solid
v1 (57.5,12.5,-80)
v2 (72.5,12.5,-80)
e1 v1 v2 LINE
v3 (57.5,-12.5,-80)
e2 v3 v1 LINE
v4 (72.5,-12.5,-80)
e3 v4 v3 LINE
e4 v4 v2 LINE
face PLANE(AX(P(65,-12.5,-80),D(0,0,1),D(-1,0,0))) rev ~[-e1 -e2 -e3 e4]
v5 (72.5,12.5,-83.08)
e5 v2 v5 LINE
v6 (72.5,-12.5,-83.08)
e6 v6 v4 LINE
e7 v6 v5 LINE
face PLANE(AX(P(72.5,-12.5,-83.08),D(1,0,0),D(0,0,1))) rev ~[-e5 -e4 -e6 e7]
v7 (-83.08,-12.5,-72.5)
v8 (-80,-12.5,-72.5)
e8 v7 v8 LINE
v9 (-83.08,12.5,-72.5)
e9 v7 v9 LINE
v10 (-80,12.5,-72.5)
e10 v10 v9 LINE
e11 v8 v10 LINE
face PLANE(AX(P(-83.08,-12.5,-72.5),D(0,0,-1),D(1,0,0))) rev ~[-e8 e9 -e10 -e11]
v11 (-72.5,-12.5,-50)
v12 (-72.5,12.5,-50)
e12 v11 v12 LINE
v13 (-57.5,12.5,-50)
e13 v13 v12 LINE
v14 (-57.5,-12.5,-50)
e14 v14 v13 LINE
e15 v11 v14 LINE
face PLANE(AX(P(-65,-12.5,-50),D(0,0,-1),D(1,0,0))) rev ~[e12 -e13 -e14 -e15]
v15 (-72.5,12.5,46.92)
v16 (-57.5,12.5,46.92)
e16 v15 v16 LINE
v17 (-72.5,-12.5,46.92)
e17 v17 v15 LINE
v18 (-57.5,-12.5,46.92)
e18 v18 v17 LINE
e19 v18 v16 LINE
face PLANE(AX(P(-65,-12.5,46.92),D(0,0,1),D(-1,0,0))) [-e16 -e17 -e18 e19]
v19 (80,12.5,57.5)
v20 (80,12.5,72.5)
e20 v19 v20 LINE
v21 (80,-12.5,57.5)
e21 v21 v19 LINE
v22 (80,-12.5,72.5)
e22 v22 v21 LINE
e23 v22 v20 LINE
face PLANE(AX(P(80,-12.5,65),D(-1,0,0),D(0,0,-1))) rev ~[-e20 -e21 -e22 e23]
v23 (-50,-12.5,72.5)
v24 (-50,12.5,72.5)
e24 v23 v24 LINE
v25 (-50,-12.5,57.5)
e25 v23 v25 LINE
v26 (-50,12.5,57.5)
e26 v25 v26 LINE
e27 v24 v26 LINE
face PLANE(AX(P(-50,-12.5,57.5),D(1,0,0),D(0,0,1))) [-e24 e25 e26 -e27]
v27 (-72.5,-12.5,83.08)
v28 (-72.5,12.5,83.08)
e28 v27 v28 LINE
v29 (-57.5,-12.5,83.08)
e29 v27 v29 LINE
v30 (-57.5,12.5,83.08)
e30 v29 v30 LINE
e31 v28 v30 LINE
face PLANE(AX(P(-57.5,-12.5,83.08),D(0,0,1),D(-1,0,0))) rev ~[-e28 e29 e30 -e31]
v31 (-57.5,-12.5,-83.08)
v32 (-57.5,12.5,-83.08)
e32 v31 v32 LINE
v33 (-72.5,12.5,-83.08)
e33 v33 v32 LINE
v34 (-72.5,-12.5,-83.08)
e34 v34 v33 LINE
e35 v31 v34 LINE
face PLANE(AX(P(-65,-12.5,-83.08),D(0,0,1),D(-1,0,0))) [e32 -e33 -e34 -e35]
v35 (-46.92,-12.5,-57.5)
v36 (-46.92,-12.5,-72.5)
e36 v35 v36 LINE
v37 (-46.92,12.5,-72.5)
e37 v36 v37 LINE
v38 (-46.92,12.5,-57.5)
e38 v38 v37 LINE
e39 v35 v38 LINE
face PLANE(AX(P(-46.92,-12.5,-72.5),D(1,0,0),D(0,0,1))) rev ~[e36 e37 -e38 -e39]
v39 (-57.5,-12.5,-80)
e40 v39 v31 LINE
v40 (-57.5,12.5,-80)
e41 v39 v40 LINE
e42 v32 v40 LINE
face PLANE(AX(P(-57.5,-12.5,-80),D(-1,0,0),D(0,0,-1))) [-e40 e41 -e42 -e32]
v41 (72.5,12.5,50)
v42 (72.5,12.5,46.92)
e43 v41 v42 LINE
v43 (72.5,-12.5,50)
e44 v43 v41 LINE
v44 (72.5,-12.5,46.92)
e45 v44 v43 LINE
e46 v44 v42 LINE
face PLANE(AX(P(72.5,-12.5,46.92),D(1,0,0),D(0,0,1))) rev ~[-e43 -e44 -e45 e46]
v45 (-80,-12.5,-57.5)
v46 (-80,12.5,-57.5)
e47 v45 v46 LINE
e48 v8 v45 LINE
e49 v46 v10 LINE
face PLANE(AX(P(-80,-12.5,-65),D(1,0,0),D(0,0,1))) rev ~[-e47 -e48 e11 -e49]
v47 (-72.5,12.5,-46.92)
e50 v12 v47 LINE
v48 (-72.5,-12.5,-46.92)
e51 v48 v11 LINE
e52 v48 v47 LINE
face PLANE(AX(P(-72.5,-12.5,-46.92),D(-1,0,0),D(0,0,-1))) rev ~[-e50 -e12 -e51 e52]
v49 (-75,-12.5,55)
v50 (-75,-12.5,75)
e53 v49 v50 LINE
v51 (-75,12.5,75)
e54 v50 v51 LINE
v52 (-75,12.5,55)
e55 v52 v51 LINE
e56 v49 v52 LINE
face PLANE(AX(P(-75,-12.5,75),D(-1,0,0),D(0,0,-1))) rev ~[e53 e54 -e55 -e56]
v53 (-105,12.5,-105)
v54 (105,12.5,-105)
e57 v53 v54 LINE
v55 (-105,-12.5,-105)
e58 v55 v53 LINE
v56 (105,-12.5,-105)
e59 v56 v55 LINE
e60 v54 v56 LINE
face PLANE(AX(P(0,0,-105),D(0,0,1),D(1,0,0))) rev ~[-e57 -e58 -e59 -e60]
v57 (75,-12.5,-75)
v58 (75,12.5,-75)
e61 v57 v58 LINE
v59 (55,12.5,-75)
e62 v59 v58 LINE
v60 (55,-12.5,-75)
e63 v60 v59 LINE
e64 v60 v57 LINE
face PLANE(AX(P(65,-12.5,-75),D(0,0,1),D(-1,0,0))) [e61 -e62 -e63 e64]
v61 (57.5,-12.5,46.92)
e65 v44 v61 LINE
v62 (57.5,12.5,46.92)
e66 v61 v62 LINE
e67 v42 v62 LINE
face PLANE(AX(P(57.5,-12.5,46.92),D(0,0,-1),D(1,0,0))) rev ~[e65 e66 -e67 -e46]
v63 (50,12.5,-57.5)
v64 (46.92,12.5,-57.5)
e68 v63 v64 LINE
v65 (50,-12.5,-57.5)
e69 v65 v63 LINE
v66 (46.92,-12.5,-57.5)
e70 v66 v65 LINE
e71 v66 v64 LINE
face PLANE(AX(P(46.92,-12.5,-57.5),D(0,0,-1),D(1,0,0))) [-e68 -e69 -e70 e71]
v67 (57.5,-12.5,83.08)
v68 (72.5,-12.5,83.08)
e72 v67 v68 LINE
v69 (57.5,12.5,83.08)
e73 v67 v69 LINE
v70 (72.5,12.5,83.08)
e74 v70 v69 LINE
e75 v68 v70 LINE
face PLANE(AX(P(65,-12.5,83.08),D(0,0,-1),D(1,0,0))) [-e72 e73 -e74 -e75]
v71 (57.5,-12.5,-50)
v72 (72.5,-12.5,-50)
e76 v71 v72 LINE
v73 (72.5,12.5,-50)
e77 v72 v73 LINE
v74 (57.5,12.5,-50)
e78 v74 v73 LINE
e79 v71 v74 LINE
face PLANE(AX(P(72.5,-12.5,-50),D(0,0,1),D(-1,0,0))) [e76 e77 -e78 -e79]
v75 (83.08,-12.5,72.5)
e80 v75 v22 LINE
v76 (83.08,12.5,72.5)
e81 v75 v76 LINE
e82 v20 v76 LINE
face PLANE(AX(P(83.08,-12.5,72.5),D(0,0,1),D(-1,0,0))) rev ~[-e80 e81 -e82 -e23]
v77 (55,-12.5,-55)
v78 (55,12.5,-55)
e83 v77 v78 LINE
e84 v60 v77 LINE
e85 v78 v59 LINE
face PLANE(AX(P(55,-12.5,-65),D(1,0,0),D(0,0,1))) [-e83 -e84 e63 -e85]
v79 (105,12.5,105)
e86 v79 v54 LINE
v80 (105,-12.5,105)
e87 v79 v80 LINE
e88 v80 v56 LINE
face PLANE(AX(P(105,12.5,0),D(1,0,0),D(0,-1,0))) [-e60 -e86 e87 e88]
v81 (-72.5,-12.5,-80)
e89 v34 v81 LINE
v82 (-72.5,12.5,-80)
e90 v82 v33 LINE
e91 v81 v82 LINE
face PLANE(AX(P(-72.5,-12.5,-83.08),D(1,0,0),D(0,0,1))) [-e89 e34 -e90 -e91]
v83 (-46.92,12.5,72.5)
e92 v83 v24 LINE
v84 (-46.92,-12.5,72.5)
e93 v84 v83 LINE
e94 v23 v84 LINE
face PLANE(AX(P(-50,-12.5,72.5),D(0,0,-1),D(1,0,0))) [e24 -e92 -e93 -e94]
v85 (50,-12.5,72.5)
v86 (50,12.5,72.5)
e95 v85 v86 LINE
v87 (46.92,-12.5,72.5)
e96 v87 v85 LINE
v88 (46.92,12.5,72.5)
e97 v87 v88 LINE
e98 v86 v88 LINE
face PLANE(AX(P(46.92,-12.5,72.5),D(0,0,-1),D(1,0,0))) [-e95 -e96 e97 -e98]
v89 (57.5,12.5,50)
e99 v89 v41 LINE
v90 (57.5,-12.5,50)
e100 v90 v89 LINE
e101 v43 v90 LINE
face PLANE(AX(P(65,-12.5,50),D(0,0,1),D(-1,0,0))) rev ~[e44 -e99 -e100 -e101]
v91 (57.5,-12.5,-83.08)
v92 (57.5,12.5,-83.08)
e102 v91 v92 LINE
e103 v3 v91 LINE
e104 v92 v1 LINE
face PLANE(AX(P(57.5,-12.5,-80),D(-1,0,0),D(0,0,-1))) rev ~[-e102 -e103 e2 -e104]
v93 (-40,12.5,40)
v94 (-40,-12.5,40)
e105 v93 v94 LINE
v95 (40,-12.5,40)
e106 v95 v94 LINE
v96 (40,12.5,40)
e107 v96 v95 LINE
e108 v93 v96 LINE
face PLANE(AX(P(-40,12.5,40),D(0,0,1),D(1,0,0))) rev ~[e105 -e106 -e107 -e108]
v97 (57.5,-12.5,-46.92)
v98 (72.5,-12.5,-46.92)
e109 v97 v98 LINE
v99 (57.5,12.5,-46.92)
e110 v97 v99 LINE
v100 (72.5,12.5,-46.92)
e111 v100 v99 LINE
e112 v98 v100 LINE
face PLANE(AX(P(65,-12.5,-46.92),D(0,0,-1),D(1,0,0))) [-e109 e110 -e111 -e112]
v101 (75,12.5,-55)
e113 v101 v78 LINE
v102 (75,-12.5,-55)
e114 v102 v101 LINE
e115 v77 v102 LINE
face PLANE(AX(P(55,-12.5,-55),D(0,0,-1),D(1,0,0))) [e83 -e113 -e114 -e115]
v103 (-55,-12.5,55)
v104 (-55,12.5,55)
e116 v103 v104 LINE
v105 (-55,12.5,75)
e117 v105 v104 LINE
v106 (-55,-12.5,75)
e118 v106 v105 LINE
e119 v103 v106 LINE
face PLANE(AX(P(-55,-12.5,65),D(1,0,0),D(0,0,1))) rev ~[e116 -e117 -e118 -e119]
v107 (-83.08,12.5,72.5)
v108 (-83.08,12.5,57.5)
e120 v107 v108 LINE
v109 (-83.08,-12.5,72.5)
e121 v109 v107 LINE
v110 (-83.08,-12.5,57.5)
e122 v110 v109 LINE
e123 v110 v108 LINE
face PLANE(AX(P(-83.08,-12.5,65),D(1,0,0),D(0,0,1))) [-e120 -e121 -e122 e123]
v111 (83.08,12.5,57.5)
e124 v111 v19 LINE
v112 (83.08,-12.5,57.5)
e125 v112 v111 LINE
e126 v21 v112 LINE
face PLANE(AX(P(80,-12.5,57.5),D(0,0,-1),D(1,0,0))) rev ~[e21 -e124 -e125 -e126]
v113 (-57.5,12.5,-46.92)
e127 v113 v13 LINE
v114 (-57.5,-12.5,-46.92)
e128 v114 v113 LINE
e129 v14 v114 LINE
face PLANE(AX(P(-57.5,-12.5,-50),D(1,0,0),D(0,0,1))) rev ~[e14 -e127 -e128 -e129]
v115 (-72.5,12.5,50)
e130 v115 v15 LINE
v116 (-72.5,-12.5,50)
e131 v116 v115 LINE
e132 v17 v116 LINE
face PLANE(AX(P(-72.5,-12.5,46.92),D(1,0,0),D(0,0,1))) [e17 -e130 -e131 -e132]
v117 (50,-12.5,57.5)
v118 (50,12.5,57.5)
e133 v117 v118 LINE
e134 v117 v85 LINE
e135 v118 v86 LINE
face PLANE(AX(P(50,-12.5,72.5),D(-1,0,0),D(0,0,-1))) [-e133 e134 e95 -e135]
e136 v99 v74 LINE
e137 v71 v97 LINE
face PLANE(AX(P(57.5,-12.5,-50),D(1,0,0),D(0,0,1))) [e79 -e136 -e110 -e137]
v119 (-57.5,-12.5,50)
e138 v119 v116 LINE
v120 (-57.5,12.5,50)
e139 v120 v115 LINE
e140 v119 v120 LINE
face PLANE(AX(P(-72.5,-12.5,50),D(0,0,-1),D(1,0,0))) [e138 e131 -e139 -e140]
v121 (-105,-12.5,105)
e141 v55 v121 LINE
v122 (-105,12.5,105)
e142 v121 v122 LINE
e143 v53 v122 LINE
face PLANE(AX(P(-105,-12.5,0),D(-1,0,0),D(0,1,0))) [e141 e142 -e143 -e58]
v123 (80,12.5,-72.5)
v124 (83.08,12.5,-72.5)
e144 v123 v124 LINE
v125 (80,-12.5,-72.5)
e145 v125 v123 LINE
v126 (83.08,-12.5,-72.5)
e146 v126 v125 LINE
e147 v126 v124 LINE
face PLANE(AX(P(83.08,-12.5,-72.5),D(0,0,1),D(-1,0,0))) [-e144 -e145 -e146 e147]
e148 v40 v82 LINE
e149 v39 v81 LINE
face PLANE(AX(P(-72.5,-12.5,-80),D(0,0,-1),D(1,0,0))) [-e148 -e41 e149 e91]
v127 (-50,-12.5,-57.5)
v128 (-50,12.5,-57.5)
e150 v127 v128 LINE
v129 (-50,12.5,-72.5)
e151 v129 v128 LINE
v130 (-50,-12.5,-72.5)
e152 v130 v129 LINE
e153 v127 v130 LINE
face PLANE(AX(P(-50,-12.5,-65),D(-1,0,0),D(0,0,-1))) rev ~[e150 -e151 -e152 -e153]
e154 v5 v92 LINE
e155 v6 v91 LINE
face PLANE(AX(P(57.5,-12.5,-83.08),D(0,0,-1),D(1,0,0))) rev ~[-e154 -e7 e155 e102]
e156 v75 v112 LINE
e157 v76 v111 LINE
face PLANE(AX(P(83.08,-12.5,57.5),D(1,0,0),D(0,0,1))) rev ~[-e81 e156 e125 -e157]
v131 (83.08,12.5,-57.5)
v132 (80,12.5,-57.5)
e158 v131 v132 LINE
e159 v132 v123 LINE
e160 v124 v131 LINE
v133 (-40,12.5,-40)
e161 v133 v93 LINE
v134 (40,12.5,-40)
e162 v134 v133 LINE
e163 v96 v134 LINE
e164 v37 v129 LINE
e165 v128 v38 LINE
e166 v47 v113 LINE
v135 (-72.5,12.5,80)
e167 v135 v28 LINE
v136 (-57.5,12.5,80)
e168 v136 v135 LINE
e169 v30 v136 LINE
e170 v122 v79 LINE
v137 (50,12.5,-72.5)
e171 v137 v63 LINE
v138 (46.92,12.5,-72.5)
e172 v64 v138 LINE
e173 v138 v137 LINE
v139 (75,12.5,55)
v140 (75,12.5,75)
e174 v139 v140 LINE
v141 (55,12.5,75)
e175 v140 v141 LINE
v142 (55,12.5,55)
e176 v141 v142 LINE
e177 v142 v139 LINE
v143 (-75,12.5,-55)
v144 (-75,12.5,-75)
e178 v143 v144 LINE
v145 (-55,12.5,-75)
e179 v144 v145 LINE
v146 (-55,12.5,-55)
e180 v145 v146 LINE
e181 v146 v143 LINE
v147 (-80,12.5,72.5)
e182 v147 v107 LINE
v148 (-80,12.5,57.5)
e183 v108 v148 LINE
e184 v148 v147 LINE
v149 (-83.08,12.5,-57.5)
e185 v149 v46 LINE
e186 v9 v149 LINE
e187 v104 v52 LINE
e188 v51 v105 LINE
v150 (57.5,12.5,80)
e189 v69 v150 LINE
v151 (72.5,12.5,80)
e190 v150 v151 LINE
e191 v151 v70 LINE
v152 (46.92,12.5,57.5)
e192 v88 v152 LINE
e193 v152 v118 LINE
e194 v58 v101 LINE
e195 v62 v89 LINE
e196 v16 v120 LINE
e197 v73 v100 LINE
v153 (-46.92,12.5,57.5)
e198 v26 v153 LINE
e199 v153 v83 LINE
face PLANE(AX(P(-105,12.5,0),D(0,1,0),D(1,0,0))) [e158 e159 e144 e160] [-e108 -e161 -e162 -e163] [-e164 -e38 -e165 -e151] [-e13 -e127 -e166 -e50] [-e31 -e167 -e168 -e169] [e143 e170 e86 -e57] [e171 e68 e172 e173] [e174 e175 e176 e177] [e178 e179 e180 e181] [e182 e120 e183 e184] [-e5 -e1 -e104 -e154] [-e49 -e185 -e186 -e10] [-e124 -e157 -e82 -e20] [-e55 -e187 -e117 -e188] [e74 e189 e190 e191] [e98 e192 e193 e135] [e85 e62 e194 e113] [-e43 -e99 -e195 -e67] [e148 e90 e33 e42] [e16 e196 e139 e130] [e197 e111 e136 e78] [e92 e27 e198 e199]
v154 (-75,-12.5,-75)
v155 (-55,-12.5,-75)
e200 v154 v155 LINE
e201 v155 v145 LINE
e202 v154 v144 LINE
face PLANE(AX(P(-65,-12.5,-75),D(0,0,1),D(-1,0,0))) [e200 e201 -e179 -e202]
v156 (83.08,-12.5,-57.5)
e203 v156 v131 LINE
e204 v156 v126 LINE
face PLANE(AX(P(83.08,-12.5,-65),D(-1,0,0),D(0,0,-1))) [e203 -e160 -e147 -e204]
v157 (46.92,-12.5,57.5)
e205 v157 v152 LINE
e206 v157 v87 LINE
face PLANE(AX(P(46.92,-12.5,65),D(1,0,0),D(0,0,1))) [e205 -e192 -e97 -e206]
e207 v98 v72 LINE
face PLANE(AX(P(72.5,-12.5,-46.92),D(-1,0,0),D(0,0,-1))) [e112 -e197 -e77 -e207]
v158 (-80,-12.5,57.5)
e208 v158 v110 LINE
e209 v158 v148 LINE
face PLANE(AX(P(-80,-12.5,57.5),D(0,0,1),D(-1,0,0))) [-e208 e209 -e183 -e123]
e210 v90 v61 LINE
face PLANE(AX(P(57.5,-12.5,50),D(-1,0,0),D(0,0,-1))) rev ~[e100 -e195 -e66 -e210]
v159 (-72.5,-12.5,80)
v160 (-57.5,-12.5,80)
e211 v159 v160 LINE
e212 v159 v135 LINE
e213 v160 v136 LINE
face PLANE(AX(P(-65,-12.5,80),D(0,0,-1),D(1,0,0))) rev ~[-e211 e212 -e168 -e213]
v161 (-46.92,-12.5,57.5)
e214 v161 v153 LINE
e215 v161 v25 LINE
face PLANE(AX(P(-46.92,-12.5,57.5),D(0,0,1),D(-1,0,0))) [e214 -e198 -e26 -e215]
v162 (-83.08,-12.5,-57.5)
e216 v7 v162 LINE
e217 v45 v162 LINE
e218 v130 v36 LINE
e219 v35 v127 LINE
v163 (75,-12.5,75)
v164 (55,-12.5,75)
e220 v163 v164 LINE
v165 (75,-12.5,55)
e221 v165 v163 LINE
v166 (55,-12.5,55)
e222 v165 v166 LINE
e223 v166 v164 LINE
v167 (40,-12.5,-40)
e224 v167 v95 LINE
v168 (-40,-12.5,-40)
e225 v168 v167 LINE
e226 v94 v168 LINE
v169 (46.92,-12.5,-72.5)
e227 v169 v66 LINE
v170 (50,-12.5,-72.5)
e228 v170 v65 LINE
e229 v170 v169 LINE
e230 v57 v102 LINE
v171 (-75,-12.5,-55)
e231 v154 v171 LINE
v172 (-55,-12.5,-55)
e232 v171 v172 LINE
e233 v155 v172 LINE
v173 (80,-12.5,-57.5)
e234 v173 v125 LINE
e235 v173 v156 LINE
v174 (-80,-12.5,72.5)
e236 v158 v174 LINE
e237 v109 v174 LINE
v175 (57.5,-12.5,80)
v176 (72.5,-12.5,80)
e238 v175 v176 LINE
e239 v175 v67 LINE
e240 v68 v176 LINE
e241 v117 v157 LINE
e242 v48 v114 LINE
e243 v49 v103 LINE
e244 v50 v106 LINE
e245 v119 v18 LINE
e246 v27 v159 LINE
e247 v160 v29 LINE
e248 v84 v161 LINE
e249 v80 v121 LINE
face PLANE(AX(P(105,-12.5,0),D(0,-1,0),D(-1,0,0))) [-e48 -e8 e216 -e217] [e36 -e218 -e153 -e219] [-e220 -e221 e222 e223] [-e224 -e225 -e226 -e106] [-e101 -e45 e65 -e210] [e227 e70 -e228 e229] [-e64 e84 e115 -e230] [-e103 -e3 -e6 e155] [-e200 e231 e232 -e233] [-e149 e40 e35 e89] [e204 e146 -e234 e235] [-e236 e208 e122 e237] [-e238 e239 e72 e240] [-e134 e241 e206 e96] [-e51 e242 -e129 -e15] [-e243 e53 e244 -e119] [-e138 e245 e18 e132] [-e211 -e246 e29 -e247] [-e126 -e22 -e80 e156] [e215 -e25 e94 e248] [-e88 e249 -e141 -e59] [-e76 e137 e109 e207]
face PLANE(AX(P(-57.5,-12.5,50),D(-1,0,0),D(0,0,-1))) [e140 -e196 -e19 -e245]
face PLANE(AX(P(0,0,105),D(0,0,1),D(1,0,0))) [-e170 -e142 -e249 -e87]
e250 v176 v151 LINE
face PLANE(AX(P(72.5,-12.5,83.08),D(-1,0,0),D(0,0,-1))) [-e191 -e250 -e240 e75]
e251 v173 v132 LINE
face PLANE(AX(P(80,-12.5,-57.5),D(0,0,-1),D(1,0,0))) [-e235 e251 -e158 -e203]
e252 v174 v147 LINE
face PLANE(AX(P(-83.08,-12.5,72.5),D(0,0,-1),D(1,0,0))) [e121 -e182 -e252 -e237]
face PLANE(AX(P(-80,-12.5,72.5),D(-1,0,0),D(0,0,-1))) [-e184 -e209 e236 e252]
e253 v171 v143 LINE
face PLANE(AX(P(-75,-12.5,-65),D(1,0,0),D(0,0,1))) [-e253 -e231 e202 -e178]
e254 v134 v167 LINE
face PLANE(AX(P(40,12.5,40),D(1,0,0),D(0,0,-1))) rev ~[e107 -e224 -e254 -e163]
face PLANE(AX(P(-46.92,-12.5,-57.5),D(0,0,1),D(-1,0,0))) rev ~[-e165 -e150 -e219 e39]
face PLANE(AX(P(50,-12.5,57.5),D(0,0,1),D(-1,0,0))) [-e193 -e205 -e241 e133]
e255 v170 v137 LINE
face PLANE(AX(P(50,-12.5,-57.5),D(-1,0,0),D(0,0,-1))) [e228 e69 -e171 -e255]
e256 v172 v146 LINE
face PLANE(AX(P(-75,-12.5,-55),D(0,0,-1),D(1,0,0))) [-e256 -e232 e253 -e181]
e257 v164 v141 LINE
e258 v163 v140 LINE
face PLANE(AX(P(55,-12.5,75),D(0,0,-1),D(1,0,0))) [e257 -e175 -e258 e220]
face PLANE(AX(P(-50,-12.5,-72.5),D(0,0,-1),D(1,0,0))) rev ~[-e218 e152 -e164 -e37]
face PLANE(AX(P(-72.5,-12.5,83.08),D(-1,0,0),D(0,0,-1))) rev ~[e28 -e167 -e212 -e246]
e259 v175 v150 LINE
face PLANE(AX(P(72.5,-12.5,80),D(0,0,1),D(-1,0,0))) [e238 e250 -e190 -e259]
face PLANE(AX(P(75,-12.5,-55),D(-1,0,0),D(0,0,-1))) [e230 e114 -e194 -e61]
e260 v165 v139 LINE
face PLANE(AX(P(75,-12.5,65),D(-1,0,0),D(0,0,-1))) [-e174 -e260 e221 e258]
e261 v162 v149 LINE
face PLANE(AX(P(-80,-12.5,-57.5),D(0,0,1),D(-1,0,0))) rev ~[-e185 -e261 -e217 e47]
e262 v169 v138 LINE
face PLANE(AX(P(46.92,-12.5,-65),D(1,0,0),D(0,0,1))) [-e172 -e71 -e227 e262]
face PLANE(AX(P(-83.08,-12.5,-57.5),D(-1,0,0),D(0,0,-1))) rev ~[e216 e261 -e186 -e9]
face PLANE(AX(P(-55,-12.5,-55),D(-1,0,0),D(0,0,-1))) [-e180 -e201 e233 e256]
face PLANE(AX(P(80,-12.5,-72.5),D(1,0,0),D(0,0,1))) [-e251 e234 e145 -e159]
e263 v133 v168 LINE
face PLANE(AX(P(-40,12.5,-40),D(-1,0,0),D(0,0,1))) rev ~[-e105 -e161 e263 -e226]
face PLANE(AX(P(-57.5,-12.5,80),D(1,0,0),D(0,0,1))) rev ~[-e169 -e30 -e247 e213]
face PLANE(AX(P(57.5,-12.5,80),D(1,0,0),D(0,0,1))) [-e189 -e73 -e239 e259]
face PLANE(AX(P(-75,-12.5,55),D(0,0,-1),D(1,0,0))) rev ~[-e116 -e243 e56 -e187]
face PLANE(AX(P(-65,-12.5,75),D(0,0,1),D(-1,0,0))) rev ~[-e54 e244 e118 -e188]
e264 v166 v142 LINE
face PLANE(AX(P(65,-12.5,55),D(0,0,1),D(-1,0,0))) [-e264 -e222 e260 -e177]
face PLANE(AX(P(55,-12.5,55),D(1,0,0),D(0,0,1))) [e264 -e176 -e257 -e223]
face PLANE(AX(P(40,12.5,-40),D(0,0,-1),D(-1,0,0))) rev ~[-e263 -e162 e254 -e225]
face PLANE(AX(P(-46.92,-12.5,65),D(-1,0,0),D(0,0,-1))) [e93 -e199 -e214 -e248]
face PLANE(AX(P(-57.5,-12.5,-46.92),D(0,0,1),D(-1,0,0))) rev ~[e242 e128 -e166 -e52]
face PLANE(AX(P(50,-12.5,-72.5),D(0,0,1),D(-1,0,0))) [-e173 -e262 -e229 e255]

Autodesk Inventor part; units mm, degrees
ref_plane "YZ Plane" through (0, 0, 0) normal (1, 0, 0) x (0, 1, 0)
ref_plane "XZ Plane" through (0, 0, 0) normal (0, 1, 0) x (-1, 0, 0)
ref_plane "XY Plane" through (0, 0, 0) normal (0, 0, 1) x (1, 0, 0)
sketch "Sketch1" plane through (0, 0, 0) normal (0, 0, 1) x (1, 0, 0)
  line L0 (-105, 12.5) -> (105, 12.5)
  line L1 (105, 12.5) -> (105, -12.5)
  line L2 (105, -12.5) -> (-105, -12.5)
  line L3 (-105, -12.5) -> (-105, 12.5)
  line L4 (-105, 12.5) -> (105, -12.5) construction
  line L5 (105, 12.5) -> (-105, -12.5) construction
  point P0 (0, 0)
  dimension "d0" = 210
  dimension "d1" = 25
extrude "Extrusion1" add sketch "Sketch1" along normal mid plane 210
sketch "Sketch2" plane through (-105, -12.5, 105) normal (0, -1, 0) x (1, 0, 0)
  line L0 (0, -210) -> (0, 0) projected
  line L1 (0, -40) -> (210, -40)
  line L2 (210, -210) -> (210, 0) projected
  line L3 (0, -170) -> (210, -170)
  line L4 (0, -105) -> (210, -105)
  line L5 (0, 0) -> (210, 0) projected
  line L6 (105, 0) -> (105, -210)
  line L7 (170, 0) -> (170, -210)
  line L8 (40, 0) -> (40, -210)
  line L9 (210, -210) -> (0, -210) projected
  line L10 (0, 0) -> (0, -210) projected
  line L11 (162.5, -21.92) -> (177.5, -21.92)
  line L12 (177.5, -21.92) -> (177.5, -25)
  line L13 (177.5, -25) -> (162.5, -25)
  line L14 (162.5, -25) -> (162.5, -21.92)
  line L15 (162.5, -21.92) -> (177.5, -25) construction
  line L16 (177.5, -21.92) -> (162.5, -25) construction
  line L17 (188.08, -32.5) -> (185, -32.5)
  line L18 (185, -32.5) -> (185, -47.5)
  line L19 (185, -47.5) -> (188.08, -47.5)
  line L20 (188.08, -47.5) -> (188.08, -32.5)
  line L21 (188.08, -32.5) -> (185, -47.5) construction
  line L22 (185, -32.5) -> (188.08, -47.5) construction
  line L23 (162.5, -58.08) -> (177.5, -58.08)
  line L24 (177.5, -58.08) -> (177.5, -55)
  line L25 (177.5, -55) -> (162.5, -55)
  line L26 (162.5, -55) -> (162.5, -58.08)
  line L27 (162.5, -58.08) -> (177.5, -55) construction
  line L28 (177.5, -58.08) -> (162.5, -55) construction
  line L29 (188.08, -47.5) -> (185, -47.5)
  line L30 (185, -47.5) -> (185, -32.5)
  line L31 (185, -32.5) -> (188.08, -32.5)
  line L32 (188.08, -32.5) -> (188.08, -47.5)
  line L33 (188.08, -47.5) -> (185, -32.5) construction
  line L34 (185, -47.5) -> (188.08, -32.5) construction
  line L35 (151.92, -32.5) -> (155, -32.5)
  line L36 (155, -32.5) -> (155, -47.5)
  line L37 (155, -47.5) -> (151.92, -47.5)
  line L38 (151.92, -47.5) -> (151.92, -32.5)
  line L39 (151.92, -32.5) -> (155, -47.5) construction
  line L40 (155, -32.5) -> (151.92, -47.5) construction
  line L41 (155, -32.5) -> (151.92, -32.5)
  line L42 (155, -47.5) -> (155, -32.5)
  line L43 (151.92, -32.5) -> (151.92, -47.5)
  line L44 (155, -47.5) -> (151.92, -32.5) construction
  line L45 (151.92, -47.5) -> (155, -47.5)
  line L46 (151.92, -47.5) -> (155, -32.5) construction
  line L47 (47.5, -21.92) -> (32.5, -21.92)
  line L48 (32.5, -21.92) -> (32.5, -25)
  line L49 (32.5, -25) -> (47.5, -25)
  line L50 (47.5, -25) -> (47.5, -21.92)
  line L51 (47.5, -21.92) -> (32.5, -25) construction
  line L52 (32.5, -21.92) -> (47.5, -25) construction
  line L53 (21.92, -32.5) -> (25, -32.5)
  line L54 (25, -32.5) -> (25, -47.5)
  line L55 (25, -47.5) -> (21.92, -47.5)
  line L56 (21.92, -47.5) -> (21.92, -32.5)
  line L57 (21.92, -32.5) -> (25, -47.5) construction
  line L58 (25, -32.5) -> (21.92, -47.5) construction
  line L59 (32.5, -55) -> (47.5, -55)
  line L60 (47.5, -58.08) -> (32.5, -58.08)
  line L61 (32.5, -58.08) -> (47.5, -55) construction
  line L62 (47.5, -58.08) -> (32.5, -55) construction
  line L63 (47.5, -55) -> (47.5, -58.08)
  line L64 (32.5, -58.08) -> (32.5, -55)
  line L65 (25, -32.5) -> (21.92, -32.5)
  line L66 (25, -47.5) -> (25, -32.5)
  line L67 (21.92, -32.5) -> (21.92, -47.5)
  line L68 (25, -47.5) -> (21.92, -32.5) construction
  line L69 (21.92, -47.5) -> (25, -47.5)
  line L70 (21.92, -47.5) -> (25, -32.5) construction
  line L71 (55, -32.5) -> (58.08, -32.5)
  line L72 (58.08, -32.5) -> (55, -32.5)
  line L73 (55, -47.5) -> (55, -32.5)
  line L74 (55, -32.5) -> (55, -47.5)
  line L75 (58.08, -47.5) -> (55, -47.5)
  line L76 (58.08, -32.5) -> (58.08, -47.5)
  line L77 (55, -47.5) -> (58.08, -32.5) construction
  line L78 (58.08, -47.5) -> (55, -32.5) construction
  line L79 (55, -47.5) -> (58.08, -47.5)
  line L80 (58.08, -47.5) -> (58.08, -32.5)
  line L81 (55, -32.5) -> (58.08, -47.5) construction
  line L82 (58.08, -32.5) -> (55, -47.5) construction
  line L83 (162.5, -188.08) -> (177.5, -188.08)
  line L84 (177.5, -188.08) -> (177.5, -185)
  line L85 (177.5, -185) -> (162.5, -185)
  line L86 (162.5, -185) -> (162.5, -188.08)
  line L87 (162.5, -188.08) -> (177.5, -185) construction
  line L88 (177.5, -188.08) -> (162.5, -185) construction
  line L89 (188.08, -177.5) -> (185, -177.5)
  line L90 (185, -177.5) -> (185, -162.5)
  line L91 (185, -162.5) -> (188.08, -162.5)
  line L92 (188.08, -162.5) -> (188.08, -177.5)
  line L93 (188.08, -177.5) -> (185, -162.5) construction
  line L94 (185, -177.5) -> (188.08, -162.5) construction
  line L95 (177.5, -155) -> (162.5, -155)
  line L96 (162.5, -151.92) -> (177.5, -151.92)
  line L97 (177.5, -151.92) -> (162.5, -155) construction
  line L98 (162.5, -151.92) -> (177.5, -155) construction
  line L99 (162.5, -155) -> (162.5, -151.92)
  line L100 (177.5, -151.92) -> (177.5, -155)
  line L101 (185, -177.5) -> (188.08, -177.5)
  line L102 (185, -162.5) -> (185, -177.5)
  line L103 (188.08, -177.5) -> (188.08, -162.5)
  line L104 (185, -162.5) -> (188.08, -177.5) construction
  line L105 (188.08, -162.5) -> (185, -162.5)
  line L106 (188.08, -162.5) -> (185, -177.5) construction
  line L107 (155, -177.5) -> (151.92, -177.5)
  line L108 (151.92, -177.5) -> (155, -177.5)
  line L109 (155, -162.5) -> (155, -177.5)
  line L110 (155, -177.5) -> (155, -162.5)
  line L111 (151.92, -162.5) -> (155, -162.5)
  line L112 (151.92, -177.5) -> (151.92, -162.5)
  line L113 (155, -162.5) -> (151.92, -177.5) construction
  line L114 (151.92, -162.5) -> (155, -177.5) construction
  line L115 (155, -162.5) -> (151.92, -162.5)
  line L116 (151.92, -162.5) -> (151.92, -177.5)
  line L117 (155, -177.5) -> (151.92, -162.5) construction
  line L118 (151.92, -177.5) -> (155, -162.5) construction
  line L119 (55, -177.5) -> (58.08, -177.5)
  line L120 (58.08, -177.5) -> (58.08, -162.5)
  line L121 (55, -162.5) -> (58.08, -177.5) construction
  line L122 (58.08, -162.5) -> (55, -177.5) construction
  line L123 (58.08, -177.5) -> (55, -177.5)
  line L124 (58.08, -162.5) -> (58.08, -177.5)
  line L125 (55, -177.5) -> (58.08, -162.5) construction
  line L126 (58.08, -177.5) -> (55, -162.5) construction
  line L127 (58.08, -162.5) -> (55, -162.5)
  line L128 (55, -162.5) -> (58.08, -162.5)
  line L129 (25, -162.5) -> (21.92, -162.5)
  line L130 (21.92, -162.5) -> (25, -162.5)
  line L131 (25, -177.5) -> (25, -162.5)
  line L132 (25, -162.5) -> (25, -177.5)
  line L133 (21.92, -162.5) -> (21.92, -177.5)
  line L134 (25, -177.5) -> (21.92, -162.5) construction
  line L135 (21.92, -177.5) -> (25, -162.5) construction
  line L136 (21.92, -177.5) -> (25, -177.5)
  line L137 (21.92, -162.5) -> (25, -177.5) construction
  line L138 (21.92, -177.5) -> (21.92, -162.5)
  line L139 (25, -177.5) -> (21.92, -177.5)
  line L140 (25, -162.5) -> (21.92, -177.5) construction
  line L141 (47.5, -188.08) -> (32.5, -188.08)
  line L142 (32.5, -188.08) -> (32.5, -185)
  line L143 (32.5, -185) -> (47.5, -185)
  line L144 (47.5, -185) -> (47.5, -188.08)
  line L145 (47.5, -188.08) -> (32.5, -185) construction
  line L146 (32.5, -188.08) -> (47.5, -185) construction
  line L147 (55, -162.5) -> (55, -177.5)
  line L148 (55, -177.5) -> (55, -162.5)
  line L149 (32.5, -151.92) -> (32.5, -155)
  line L150 (32.5, -155) -> (47.5, -155)
  line L151 (32.5, -151.92) -> (47.5, -155) construction
  line L152 (47.5, -151.92) -> (32.5, -155) construction
  line L153 (47.5, -155) -> (47.5, -151.92)
  line L154 (47.5, -151.92) -> (32.5, -151.92)
  line L155 (160, -30) -> (180, -30)
  line L156 (180, -30) -> (180, -50)
  line L157 (180, -50) -> (160, -50)
  line L158 (160, -50) -> (160, -30)
  line L159 (160, -30) -> (180, -50) construction
  line L160 (180, -30) -> (160, -50) construction
  line L161 (30, -50) -> (50, -50)
  line L162 (50, -50) -> (50, -30)
  line L163 (50, -30) -> (30, -30)
  line L164 (30, -30) -> (30, -50)
  line L165 (30, -50) -> (50, -30) construction
  line L166 (50, -50) -> (30, -30) construction
  line L167 (30, -160) -> (50, -160)
  line L168 (50, -160) -> (50, -180)
  line L169 (50, -180) -> (30, -180)
  line L170 (30, -180) -> (30, -160)
  line L171 (30, -160) -> (50, -180) construction
  line L172 (50, -160) -> (30, -180) construction
  line L173 (160, -160) -> (180, -160)
  line L174 (180, -160) -> (180, -180)
  line L175 (180, -180) -> (160, -180)
  line L176 (160, -180) -> (160, -160)
  line L177 (160, -160) -> (180, -180) construction
  line L178 (180, -160) -> (160, -180) construction
  point P0 (105, -105)
  point P1 (170, -23.46)
  point P2 (186.54, -40)
  point P3 (170, -56.54)
  point P4 (153.46, -40)
  point P5 (40, -23.46)
  point P6 (23.46, -40)
  point P7 (40, -56.54)
  point P8 (56.54, -40)
  point P9 (170, -186.54)
  point P10 (186.54, -170)
  point P11 (170, -153.46)
  point P12 (153.46, -170)
  point P13 (56.54, -170)
  point P14 (23.46, -170)
  point P15 (40, -186.54)
  point P16 (40, -153.46)
  point P17 (170, -40)
  point P18 (40, -40)
  point P19 (40, -170)
  point P20 (170, -170)
  dimension "d4" = 40
  dimension "d5" = 40
  dimension "d8" = 15
  dimension "d9" = 3.08
  dimension "d10" = 30
  dimension "d11" = 15
  dimension "d12" = 30
  dimension "d13" = 3.08
  dimension "d20" = 20
  dimension "d21" = 20
  dimension "d22" = 20
  dimension "d23" = 20
  dimension "d24" = 20
  dimension "d25" = 20
  dimension "d26" = 20
  dimension "d27" = 20
extrude "Extrusion2" cut sketch "Sketch2" against normal through all contours L133 L129 L131 L3 | L3 L131 L136 L133 | L141 L142 L143 L8 | L8 L143 L144 L141 | L56 L53 L54 L1 | L1 L54 L55 L56 | L60 L64 L59 L8 | L8 L59 L63 L60 | L154 L153 L150 L8 | L8 L150 L149 L154 | L170 L167 L8 L3 | L3 L8 L169 L170 | L8 L3 L168 L169 | L120 L119 L147 L3 | L3 L147 L127 L120 | L112 L111 L109 L3 | L3 L109 L107 L112 | L83 L86 L85 L7 | L7 L85 L84 L83 | L8 L167 L168 L3 | L47 L50 L49 L8 | L8 L49 L48 L47 | L164 L163 L8 L1 | L1 L8 L161 L164 | L23 L26 L25 L7 | L7 L25 L24 L23 | L96 L100 L95 L7 | L7 L95 L99 L96 | L76 L75 L73 L1 | L1 L73 L71 L76 | L38 L35 L36 L1 | L1 L36 L37 L38 | L8 L1 L162 L161 | L176 L173 L7 L3 | L3 L7 L175 L176 | L7 L3 L174 L175 | L92 L89 L90 L3 | L3 L90 L91 L92 | L8 L163 L162 L1 | L7 L173 L174 L3 | L11 L12 L13 L7 | L7 L13 L14 L11 | L20 L19 L18 L1 | L1 L18 L17 L20 | L157 L158 L1 L7 | L7 L1 L156 L157 | L158 L155 L7 L1 | L7 L155 L156 L1
sketch "Sketch3" plane through (-105, 12.5, 105) normal (0, 1, 0) x (1, 0, 0)
  line L0 (65, 65) -> (145, 65)
  line L1 (145, 65) -> (145, 145)
  line L2 (145, 145) -> (65, 145)
  line L3 (65, 145) -> (65, 65)
  line L4 (65, 65) -> (145, 145) construction
  line L5 (145, 65) -> (65, 145) construction
  point P0 (105, 105)
  dimension "d16" = 80
  dimension "d17" = 80
extrude "Extrusion3" cut sketch "Sketch3" against normal through all
equation "\"d5\" = d4"
equation "\"d12\" = d10"
equation "\"d13\" = d9"
properties part number "Box Of Fixation"
